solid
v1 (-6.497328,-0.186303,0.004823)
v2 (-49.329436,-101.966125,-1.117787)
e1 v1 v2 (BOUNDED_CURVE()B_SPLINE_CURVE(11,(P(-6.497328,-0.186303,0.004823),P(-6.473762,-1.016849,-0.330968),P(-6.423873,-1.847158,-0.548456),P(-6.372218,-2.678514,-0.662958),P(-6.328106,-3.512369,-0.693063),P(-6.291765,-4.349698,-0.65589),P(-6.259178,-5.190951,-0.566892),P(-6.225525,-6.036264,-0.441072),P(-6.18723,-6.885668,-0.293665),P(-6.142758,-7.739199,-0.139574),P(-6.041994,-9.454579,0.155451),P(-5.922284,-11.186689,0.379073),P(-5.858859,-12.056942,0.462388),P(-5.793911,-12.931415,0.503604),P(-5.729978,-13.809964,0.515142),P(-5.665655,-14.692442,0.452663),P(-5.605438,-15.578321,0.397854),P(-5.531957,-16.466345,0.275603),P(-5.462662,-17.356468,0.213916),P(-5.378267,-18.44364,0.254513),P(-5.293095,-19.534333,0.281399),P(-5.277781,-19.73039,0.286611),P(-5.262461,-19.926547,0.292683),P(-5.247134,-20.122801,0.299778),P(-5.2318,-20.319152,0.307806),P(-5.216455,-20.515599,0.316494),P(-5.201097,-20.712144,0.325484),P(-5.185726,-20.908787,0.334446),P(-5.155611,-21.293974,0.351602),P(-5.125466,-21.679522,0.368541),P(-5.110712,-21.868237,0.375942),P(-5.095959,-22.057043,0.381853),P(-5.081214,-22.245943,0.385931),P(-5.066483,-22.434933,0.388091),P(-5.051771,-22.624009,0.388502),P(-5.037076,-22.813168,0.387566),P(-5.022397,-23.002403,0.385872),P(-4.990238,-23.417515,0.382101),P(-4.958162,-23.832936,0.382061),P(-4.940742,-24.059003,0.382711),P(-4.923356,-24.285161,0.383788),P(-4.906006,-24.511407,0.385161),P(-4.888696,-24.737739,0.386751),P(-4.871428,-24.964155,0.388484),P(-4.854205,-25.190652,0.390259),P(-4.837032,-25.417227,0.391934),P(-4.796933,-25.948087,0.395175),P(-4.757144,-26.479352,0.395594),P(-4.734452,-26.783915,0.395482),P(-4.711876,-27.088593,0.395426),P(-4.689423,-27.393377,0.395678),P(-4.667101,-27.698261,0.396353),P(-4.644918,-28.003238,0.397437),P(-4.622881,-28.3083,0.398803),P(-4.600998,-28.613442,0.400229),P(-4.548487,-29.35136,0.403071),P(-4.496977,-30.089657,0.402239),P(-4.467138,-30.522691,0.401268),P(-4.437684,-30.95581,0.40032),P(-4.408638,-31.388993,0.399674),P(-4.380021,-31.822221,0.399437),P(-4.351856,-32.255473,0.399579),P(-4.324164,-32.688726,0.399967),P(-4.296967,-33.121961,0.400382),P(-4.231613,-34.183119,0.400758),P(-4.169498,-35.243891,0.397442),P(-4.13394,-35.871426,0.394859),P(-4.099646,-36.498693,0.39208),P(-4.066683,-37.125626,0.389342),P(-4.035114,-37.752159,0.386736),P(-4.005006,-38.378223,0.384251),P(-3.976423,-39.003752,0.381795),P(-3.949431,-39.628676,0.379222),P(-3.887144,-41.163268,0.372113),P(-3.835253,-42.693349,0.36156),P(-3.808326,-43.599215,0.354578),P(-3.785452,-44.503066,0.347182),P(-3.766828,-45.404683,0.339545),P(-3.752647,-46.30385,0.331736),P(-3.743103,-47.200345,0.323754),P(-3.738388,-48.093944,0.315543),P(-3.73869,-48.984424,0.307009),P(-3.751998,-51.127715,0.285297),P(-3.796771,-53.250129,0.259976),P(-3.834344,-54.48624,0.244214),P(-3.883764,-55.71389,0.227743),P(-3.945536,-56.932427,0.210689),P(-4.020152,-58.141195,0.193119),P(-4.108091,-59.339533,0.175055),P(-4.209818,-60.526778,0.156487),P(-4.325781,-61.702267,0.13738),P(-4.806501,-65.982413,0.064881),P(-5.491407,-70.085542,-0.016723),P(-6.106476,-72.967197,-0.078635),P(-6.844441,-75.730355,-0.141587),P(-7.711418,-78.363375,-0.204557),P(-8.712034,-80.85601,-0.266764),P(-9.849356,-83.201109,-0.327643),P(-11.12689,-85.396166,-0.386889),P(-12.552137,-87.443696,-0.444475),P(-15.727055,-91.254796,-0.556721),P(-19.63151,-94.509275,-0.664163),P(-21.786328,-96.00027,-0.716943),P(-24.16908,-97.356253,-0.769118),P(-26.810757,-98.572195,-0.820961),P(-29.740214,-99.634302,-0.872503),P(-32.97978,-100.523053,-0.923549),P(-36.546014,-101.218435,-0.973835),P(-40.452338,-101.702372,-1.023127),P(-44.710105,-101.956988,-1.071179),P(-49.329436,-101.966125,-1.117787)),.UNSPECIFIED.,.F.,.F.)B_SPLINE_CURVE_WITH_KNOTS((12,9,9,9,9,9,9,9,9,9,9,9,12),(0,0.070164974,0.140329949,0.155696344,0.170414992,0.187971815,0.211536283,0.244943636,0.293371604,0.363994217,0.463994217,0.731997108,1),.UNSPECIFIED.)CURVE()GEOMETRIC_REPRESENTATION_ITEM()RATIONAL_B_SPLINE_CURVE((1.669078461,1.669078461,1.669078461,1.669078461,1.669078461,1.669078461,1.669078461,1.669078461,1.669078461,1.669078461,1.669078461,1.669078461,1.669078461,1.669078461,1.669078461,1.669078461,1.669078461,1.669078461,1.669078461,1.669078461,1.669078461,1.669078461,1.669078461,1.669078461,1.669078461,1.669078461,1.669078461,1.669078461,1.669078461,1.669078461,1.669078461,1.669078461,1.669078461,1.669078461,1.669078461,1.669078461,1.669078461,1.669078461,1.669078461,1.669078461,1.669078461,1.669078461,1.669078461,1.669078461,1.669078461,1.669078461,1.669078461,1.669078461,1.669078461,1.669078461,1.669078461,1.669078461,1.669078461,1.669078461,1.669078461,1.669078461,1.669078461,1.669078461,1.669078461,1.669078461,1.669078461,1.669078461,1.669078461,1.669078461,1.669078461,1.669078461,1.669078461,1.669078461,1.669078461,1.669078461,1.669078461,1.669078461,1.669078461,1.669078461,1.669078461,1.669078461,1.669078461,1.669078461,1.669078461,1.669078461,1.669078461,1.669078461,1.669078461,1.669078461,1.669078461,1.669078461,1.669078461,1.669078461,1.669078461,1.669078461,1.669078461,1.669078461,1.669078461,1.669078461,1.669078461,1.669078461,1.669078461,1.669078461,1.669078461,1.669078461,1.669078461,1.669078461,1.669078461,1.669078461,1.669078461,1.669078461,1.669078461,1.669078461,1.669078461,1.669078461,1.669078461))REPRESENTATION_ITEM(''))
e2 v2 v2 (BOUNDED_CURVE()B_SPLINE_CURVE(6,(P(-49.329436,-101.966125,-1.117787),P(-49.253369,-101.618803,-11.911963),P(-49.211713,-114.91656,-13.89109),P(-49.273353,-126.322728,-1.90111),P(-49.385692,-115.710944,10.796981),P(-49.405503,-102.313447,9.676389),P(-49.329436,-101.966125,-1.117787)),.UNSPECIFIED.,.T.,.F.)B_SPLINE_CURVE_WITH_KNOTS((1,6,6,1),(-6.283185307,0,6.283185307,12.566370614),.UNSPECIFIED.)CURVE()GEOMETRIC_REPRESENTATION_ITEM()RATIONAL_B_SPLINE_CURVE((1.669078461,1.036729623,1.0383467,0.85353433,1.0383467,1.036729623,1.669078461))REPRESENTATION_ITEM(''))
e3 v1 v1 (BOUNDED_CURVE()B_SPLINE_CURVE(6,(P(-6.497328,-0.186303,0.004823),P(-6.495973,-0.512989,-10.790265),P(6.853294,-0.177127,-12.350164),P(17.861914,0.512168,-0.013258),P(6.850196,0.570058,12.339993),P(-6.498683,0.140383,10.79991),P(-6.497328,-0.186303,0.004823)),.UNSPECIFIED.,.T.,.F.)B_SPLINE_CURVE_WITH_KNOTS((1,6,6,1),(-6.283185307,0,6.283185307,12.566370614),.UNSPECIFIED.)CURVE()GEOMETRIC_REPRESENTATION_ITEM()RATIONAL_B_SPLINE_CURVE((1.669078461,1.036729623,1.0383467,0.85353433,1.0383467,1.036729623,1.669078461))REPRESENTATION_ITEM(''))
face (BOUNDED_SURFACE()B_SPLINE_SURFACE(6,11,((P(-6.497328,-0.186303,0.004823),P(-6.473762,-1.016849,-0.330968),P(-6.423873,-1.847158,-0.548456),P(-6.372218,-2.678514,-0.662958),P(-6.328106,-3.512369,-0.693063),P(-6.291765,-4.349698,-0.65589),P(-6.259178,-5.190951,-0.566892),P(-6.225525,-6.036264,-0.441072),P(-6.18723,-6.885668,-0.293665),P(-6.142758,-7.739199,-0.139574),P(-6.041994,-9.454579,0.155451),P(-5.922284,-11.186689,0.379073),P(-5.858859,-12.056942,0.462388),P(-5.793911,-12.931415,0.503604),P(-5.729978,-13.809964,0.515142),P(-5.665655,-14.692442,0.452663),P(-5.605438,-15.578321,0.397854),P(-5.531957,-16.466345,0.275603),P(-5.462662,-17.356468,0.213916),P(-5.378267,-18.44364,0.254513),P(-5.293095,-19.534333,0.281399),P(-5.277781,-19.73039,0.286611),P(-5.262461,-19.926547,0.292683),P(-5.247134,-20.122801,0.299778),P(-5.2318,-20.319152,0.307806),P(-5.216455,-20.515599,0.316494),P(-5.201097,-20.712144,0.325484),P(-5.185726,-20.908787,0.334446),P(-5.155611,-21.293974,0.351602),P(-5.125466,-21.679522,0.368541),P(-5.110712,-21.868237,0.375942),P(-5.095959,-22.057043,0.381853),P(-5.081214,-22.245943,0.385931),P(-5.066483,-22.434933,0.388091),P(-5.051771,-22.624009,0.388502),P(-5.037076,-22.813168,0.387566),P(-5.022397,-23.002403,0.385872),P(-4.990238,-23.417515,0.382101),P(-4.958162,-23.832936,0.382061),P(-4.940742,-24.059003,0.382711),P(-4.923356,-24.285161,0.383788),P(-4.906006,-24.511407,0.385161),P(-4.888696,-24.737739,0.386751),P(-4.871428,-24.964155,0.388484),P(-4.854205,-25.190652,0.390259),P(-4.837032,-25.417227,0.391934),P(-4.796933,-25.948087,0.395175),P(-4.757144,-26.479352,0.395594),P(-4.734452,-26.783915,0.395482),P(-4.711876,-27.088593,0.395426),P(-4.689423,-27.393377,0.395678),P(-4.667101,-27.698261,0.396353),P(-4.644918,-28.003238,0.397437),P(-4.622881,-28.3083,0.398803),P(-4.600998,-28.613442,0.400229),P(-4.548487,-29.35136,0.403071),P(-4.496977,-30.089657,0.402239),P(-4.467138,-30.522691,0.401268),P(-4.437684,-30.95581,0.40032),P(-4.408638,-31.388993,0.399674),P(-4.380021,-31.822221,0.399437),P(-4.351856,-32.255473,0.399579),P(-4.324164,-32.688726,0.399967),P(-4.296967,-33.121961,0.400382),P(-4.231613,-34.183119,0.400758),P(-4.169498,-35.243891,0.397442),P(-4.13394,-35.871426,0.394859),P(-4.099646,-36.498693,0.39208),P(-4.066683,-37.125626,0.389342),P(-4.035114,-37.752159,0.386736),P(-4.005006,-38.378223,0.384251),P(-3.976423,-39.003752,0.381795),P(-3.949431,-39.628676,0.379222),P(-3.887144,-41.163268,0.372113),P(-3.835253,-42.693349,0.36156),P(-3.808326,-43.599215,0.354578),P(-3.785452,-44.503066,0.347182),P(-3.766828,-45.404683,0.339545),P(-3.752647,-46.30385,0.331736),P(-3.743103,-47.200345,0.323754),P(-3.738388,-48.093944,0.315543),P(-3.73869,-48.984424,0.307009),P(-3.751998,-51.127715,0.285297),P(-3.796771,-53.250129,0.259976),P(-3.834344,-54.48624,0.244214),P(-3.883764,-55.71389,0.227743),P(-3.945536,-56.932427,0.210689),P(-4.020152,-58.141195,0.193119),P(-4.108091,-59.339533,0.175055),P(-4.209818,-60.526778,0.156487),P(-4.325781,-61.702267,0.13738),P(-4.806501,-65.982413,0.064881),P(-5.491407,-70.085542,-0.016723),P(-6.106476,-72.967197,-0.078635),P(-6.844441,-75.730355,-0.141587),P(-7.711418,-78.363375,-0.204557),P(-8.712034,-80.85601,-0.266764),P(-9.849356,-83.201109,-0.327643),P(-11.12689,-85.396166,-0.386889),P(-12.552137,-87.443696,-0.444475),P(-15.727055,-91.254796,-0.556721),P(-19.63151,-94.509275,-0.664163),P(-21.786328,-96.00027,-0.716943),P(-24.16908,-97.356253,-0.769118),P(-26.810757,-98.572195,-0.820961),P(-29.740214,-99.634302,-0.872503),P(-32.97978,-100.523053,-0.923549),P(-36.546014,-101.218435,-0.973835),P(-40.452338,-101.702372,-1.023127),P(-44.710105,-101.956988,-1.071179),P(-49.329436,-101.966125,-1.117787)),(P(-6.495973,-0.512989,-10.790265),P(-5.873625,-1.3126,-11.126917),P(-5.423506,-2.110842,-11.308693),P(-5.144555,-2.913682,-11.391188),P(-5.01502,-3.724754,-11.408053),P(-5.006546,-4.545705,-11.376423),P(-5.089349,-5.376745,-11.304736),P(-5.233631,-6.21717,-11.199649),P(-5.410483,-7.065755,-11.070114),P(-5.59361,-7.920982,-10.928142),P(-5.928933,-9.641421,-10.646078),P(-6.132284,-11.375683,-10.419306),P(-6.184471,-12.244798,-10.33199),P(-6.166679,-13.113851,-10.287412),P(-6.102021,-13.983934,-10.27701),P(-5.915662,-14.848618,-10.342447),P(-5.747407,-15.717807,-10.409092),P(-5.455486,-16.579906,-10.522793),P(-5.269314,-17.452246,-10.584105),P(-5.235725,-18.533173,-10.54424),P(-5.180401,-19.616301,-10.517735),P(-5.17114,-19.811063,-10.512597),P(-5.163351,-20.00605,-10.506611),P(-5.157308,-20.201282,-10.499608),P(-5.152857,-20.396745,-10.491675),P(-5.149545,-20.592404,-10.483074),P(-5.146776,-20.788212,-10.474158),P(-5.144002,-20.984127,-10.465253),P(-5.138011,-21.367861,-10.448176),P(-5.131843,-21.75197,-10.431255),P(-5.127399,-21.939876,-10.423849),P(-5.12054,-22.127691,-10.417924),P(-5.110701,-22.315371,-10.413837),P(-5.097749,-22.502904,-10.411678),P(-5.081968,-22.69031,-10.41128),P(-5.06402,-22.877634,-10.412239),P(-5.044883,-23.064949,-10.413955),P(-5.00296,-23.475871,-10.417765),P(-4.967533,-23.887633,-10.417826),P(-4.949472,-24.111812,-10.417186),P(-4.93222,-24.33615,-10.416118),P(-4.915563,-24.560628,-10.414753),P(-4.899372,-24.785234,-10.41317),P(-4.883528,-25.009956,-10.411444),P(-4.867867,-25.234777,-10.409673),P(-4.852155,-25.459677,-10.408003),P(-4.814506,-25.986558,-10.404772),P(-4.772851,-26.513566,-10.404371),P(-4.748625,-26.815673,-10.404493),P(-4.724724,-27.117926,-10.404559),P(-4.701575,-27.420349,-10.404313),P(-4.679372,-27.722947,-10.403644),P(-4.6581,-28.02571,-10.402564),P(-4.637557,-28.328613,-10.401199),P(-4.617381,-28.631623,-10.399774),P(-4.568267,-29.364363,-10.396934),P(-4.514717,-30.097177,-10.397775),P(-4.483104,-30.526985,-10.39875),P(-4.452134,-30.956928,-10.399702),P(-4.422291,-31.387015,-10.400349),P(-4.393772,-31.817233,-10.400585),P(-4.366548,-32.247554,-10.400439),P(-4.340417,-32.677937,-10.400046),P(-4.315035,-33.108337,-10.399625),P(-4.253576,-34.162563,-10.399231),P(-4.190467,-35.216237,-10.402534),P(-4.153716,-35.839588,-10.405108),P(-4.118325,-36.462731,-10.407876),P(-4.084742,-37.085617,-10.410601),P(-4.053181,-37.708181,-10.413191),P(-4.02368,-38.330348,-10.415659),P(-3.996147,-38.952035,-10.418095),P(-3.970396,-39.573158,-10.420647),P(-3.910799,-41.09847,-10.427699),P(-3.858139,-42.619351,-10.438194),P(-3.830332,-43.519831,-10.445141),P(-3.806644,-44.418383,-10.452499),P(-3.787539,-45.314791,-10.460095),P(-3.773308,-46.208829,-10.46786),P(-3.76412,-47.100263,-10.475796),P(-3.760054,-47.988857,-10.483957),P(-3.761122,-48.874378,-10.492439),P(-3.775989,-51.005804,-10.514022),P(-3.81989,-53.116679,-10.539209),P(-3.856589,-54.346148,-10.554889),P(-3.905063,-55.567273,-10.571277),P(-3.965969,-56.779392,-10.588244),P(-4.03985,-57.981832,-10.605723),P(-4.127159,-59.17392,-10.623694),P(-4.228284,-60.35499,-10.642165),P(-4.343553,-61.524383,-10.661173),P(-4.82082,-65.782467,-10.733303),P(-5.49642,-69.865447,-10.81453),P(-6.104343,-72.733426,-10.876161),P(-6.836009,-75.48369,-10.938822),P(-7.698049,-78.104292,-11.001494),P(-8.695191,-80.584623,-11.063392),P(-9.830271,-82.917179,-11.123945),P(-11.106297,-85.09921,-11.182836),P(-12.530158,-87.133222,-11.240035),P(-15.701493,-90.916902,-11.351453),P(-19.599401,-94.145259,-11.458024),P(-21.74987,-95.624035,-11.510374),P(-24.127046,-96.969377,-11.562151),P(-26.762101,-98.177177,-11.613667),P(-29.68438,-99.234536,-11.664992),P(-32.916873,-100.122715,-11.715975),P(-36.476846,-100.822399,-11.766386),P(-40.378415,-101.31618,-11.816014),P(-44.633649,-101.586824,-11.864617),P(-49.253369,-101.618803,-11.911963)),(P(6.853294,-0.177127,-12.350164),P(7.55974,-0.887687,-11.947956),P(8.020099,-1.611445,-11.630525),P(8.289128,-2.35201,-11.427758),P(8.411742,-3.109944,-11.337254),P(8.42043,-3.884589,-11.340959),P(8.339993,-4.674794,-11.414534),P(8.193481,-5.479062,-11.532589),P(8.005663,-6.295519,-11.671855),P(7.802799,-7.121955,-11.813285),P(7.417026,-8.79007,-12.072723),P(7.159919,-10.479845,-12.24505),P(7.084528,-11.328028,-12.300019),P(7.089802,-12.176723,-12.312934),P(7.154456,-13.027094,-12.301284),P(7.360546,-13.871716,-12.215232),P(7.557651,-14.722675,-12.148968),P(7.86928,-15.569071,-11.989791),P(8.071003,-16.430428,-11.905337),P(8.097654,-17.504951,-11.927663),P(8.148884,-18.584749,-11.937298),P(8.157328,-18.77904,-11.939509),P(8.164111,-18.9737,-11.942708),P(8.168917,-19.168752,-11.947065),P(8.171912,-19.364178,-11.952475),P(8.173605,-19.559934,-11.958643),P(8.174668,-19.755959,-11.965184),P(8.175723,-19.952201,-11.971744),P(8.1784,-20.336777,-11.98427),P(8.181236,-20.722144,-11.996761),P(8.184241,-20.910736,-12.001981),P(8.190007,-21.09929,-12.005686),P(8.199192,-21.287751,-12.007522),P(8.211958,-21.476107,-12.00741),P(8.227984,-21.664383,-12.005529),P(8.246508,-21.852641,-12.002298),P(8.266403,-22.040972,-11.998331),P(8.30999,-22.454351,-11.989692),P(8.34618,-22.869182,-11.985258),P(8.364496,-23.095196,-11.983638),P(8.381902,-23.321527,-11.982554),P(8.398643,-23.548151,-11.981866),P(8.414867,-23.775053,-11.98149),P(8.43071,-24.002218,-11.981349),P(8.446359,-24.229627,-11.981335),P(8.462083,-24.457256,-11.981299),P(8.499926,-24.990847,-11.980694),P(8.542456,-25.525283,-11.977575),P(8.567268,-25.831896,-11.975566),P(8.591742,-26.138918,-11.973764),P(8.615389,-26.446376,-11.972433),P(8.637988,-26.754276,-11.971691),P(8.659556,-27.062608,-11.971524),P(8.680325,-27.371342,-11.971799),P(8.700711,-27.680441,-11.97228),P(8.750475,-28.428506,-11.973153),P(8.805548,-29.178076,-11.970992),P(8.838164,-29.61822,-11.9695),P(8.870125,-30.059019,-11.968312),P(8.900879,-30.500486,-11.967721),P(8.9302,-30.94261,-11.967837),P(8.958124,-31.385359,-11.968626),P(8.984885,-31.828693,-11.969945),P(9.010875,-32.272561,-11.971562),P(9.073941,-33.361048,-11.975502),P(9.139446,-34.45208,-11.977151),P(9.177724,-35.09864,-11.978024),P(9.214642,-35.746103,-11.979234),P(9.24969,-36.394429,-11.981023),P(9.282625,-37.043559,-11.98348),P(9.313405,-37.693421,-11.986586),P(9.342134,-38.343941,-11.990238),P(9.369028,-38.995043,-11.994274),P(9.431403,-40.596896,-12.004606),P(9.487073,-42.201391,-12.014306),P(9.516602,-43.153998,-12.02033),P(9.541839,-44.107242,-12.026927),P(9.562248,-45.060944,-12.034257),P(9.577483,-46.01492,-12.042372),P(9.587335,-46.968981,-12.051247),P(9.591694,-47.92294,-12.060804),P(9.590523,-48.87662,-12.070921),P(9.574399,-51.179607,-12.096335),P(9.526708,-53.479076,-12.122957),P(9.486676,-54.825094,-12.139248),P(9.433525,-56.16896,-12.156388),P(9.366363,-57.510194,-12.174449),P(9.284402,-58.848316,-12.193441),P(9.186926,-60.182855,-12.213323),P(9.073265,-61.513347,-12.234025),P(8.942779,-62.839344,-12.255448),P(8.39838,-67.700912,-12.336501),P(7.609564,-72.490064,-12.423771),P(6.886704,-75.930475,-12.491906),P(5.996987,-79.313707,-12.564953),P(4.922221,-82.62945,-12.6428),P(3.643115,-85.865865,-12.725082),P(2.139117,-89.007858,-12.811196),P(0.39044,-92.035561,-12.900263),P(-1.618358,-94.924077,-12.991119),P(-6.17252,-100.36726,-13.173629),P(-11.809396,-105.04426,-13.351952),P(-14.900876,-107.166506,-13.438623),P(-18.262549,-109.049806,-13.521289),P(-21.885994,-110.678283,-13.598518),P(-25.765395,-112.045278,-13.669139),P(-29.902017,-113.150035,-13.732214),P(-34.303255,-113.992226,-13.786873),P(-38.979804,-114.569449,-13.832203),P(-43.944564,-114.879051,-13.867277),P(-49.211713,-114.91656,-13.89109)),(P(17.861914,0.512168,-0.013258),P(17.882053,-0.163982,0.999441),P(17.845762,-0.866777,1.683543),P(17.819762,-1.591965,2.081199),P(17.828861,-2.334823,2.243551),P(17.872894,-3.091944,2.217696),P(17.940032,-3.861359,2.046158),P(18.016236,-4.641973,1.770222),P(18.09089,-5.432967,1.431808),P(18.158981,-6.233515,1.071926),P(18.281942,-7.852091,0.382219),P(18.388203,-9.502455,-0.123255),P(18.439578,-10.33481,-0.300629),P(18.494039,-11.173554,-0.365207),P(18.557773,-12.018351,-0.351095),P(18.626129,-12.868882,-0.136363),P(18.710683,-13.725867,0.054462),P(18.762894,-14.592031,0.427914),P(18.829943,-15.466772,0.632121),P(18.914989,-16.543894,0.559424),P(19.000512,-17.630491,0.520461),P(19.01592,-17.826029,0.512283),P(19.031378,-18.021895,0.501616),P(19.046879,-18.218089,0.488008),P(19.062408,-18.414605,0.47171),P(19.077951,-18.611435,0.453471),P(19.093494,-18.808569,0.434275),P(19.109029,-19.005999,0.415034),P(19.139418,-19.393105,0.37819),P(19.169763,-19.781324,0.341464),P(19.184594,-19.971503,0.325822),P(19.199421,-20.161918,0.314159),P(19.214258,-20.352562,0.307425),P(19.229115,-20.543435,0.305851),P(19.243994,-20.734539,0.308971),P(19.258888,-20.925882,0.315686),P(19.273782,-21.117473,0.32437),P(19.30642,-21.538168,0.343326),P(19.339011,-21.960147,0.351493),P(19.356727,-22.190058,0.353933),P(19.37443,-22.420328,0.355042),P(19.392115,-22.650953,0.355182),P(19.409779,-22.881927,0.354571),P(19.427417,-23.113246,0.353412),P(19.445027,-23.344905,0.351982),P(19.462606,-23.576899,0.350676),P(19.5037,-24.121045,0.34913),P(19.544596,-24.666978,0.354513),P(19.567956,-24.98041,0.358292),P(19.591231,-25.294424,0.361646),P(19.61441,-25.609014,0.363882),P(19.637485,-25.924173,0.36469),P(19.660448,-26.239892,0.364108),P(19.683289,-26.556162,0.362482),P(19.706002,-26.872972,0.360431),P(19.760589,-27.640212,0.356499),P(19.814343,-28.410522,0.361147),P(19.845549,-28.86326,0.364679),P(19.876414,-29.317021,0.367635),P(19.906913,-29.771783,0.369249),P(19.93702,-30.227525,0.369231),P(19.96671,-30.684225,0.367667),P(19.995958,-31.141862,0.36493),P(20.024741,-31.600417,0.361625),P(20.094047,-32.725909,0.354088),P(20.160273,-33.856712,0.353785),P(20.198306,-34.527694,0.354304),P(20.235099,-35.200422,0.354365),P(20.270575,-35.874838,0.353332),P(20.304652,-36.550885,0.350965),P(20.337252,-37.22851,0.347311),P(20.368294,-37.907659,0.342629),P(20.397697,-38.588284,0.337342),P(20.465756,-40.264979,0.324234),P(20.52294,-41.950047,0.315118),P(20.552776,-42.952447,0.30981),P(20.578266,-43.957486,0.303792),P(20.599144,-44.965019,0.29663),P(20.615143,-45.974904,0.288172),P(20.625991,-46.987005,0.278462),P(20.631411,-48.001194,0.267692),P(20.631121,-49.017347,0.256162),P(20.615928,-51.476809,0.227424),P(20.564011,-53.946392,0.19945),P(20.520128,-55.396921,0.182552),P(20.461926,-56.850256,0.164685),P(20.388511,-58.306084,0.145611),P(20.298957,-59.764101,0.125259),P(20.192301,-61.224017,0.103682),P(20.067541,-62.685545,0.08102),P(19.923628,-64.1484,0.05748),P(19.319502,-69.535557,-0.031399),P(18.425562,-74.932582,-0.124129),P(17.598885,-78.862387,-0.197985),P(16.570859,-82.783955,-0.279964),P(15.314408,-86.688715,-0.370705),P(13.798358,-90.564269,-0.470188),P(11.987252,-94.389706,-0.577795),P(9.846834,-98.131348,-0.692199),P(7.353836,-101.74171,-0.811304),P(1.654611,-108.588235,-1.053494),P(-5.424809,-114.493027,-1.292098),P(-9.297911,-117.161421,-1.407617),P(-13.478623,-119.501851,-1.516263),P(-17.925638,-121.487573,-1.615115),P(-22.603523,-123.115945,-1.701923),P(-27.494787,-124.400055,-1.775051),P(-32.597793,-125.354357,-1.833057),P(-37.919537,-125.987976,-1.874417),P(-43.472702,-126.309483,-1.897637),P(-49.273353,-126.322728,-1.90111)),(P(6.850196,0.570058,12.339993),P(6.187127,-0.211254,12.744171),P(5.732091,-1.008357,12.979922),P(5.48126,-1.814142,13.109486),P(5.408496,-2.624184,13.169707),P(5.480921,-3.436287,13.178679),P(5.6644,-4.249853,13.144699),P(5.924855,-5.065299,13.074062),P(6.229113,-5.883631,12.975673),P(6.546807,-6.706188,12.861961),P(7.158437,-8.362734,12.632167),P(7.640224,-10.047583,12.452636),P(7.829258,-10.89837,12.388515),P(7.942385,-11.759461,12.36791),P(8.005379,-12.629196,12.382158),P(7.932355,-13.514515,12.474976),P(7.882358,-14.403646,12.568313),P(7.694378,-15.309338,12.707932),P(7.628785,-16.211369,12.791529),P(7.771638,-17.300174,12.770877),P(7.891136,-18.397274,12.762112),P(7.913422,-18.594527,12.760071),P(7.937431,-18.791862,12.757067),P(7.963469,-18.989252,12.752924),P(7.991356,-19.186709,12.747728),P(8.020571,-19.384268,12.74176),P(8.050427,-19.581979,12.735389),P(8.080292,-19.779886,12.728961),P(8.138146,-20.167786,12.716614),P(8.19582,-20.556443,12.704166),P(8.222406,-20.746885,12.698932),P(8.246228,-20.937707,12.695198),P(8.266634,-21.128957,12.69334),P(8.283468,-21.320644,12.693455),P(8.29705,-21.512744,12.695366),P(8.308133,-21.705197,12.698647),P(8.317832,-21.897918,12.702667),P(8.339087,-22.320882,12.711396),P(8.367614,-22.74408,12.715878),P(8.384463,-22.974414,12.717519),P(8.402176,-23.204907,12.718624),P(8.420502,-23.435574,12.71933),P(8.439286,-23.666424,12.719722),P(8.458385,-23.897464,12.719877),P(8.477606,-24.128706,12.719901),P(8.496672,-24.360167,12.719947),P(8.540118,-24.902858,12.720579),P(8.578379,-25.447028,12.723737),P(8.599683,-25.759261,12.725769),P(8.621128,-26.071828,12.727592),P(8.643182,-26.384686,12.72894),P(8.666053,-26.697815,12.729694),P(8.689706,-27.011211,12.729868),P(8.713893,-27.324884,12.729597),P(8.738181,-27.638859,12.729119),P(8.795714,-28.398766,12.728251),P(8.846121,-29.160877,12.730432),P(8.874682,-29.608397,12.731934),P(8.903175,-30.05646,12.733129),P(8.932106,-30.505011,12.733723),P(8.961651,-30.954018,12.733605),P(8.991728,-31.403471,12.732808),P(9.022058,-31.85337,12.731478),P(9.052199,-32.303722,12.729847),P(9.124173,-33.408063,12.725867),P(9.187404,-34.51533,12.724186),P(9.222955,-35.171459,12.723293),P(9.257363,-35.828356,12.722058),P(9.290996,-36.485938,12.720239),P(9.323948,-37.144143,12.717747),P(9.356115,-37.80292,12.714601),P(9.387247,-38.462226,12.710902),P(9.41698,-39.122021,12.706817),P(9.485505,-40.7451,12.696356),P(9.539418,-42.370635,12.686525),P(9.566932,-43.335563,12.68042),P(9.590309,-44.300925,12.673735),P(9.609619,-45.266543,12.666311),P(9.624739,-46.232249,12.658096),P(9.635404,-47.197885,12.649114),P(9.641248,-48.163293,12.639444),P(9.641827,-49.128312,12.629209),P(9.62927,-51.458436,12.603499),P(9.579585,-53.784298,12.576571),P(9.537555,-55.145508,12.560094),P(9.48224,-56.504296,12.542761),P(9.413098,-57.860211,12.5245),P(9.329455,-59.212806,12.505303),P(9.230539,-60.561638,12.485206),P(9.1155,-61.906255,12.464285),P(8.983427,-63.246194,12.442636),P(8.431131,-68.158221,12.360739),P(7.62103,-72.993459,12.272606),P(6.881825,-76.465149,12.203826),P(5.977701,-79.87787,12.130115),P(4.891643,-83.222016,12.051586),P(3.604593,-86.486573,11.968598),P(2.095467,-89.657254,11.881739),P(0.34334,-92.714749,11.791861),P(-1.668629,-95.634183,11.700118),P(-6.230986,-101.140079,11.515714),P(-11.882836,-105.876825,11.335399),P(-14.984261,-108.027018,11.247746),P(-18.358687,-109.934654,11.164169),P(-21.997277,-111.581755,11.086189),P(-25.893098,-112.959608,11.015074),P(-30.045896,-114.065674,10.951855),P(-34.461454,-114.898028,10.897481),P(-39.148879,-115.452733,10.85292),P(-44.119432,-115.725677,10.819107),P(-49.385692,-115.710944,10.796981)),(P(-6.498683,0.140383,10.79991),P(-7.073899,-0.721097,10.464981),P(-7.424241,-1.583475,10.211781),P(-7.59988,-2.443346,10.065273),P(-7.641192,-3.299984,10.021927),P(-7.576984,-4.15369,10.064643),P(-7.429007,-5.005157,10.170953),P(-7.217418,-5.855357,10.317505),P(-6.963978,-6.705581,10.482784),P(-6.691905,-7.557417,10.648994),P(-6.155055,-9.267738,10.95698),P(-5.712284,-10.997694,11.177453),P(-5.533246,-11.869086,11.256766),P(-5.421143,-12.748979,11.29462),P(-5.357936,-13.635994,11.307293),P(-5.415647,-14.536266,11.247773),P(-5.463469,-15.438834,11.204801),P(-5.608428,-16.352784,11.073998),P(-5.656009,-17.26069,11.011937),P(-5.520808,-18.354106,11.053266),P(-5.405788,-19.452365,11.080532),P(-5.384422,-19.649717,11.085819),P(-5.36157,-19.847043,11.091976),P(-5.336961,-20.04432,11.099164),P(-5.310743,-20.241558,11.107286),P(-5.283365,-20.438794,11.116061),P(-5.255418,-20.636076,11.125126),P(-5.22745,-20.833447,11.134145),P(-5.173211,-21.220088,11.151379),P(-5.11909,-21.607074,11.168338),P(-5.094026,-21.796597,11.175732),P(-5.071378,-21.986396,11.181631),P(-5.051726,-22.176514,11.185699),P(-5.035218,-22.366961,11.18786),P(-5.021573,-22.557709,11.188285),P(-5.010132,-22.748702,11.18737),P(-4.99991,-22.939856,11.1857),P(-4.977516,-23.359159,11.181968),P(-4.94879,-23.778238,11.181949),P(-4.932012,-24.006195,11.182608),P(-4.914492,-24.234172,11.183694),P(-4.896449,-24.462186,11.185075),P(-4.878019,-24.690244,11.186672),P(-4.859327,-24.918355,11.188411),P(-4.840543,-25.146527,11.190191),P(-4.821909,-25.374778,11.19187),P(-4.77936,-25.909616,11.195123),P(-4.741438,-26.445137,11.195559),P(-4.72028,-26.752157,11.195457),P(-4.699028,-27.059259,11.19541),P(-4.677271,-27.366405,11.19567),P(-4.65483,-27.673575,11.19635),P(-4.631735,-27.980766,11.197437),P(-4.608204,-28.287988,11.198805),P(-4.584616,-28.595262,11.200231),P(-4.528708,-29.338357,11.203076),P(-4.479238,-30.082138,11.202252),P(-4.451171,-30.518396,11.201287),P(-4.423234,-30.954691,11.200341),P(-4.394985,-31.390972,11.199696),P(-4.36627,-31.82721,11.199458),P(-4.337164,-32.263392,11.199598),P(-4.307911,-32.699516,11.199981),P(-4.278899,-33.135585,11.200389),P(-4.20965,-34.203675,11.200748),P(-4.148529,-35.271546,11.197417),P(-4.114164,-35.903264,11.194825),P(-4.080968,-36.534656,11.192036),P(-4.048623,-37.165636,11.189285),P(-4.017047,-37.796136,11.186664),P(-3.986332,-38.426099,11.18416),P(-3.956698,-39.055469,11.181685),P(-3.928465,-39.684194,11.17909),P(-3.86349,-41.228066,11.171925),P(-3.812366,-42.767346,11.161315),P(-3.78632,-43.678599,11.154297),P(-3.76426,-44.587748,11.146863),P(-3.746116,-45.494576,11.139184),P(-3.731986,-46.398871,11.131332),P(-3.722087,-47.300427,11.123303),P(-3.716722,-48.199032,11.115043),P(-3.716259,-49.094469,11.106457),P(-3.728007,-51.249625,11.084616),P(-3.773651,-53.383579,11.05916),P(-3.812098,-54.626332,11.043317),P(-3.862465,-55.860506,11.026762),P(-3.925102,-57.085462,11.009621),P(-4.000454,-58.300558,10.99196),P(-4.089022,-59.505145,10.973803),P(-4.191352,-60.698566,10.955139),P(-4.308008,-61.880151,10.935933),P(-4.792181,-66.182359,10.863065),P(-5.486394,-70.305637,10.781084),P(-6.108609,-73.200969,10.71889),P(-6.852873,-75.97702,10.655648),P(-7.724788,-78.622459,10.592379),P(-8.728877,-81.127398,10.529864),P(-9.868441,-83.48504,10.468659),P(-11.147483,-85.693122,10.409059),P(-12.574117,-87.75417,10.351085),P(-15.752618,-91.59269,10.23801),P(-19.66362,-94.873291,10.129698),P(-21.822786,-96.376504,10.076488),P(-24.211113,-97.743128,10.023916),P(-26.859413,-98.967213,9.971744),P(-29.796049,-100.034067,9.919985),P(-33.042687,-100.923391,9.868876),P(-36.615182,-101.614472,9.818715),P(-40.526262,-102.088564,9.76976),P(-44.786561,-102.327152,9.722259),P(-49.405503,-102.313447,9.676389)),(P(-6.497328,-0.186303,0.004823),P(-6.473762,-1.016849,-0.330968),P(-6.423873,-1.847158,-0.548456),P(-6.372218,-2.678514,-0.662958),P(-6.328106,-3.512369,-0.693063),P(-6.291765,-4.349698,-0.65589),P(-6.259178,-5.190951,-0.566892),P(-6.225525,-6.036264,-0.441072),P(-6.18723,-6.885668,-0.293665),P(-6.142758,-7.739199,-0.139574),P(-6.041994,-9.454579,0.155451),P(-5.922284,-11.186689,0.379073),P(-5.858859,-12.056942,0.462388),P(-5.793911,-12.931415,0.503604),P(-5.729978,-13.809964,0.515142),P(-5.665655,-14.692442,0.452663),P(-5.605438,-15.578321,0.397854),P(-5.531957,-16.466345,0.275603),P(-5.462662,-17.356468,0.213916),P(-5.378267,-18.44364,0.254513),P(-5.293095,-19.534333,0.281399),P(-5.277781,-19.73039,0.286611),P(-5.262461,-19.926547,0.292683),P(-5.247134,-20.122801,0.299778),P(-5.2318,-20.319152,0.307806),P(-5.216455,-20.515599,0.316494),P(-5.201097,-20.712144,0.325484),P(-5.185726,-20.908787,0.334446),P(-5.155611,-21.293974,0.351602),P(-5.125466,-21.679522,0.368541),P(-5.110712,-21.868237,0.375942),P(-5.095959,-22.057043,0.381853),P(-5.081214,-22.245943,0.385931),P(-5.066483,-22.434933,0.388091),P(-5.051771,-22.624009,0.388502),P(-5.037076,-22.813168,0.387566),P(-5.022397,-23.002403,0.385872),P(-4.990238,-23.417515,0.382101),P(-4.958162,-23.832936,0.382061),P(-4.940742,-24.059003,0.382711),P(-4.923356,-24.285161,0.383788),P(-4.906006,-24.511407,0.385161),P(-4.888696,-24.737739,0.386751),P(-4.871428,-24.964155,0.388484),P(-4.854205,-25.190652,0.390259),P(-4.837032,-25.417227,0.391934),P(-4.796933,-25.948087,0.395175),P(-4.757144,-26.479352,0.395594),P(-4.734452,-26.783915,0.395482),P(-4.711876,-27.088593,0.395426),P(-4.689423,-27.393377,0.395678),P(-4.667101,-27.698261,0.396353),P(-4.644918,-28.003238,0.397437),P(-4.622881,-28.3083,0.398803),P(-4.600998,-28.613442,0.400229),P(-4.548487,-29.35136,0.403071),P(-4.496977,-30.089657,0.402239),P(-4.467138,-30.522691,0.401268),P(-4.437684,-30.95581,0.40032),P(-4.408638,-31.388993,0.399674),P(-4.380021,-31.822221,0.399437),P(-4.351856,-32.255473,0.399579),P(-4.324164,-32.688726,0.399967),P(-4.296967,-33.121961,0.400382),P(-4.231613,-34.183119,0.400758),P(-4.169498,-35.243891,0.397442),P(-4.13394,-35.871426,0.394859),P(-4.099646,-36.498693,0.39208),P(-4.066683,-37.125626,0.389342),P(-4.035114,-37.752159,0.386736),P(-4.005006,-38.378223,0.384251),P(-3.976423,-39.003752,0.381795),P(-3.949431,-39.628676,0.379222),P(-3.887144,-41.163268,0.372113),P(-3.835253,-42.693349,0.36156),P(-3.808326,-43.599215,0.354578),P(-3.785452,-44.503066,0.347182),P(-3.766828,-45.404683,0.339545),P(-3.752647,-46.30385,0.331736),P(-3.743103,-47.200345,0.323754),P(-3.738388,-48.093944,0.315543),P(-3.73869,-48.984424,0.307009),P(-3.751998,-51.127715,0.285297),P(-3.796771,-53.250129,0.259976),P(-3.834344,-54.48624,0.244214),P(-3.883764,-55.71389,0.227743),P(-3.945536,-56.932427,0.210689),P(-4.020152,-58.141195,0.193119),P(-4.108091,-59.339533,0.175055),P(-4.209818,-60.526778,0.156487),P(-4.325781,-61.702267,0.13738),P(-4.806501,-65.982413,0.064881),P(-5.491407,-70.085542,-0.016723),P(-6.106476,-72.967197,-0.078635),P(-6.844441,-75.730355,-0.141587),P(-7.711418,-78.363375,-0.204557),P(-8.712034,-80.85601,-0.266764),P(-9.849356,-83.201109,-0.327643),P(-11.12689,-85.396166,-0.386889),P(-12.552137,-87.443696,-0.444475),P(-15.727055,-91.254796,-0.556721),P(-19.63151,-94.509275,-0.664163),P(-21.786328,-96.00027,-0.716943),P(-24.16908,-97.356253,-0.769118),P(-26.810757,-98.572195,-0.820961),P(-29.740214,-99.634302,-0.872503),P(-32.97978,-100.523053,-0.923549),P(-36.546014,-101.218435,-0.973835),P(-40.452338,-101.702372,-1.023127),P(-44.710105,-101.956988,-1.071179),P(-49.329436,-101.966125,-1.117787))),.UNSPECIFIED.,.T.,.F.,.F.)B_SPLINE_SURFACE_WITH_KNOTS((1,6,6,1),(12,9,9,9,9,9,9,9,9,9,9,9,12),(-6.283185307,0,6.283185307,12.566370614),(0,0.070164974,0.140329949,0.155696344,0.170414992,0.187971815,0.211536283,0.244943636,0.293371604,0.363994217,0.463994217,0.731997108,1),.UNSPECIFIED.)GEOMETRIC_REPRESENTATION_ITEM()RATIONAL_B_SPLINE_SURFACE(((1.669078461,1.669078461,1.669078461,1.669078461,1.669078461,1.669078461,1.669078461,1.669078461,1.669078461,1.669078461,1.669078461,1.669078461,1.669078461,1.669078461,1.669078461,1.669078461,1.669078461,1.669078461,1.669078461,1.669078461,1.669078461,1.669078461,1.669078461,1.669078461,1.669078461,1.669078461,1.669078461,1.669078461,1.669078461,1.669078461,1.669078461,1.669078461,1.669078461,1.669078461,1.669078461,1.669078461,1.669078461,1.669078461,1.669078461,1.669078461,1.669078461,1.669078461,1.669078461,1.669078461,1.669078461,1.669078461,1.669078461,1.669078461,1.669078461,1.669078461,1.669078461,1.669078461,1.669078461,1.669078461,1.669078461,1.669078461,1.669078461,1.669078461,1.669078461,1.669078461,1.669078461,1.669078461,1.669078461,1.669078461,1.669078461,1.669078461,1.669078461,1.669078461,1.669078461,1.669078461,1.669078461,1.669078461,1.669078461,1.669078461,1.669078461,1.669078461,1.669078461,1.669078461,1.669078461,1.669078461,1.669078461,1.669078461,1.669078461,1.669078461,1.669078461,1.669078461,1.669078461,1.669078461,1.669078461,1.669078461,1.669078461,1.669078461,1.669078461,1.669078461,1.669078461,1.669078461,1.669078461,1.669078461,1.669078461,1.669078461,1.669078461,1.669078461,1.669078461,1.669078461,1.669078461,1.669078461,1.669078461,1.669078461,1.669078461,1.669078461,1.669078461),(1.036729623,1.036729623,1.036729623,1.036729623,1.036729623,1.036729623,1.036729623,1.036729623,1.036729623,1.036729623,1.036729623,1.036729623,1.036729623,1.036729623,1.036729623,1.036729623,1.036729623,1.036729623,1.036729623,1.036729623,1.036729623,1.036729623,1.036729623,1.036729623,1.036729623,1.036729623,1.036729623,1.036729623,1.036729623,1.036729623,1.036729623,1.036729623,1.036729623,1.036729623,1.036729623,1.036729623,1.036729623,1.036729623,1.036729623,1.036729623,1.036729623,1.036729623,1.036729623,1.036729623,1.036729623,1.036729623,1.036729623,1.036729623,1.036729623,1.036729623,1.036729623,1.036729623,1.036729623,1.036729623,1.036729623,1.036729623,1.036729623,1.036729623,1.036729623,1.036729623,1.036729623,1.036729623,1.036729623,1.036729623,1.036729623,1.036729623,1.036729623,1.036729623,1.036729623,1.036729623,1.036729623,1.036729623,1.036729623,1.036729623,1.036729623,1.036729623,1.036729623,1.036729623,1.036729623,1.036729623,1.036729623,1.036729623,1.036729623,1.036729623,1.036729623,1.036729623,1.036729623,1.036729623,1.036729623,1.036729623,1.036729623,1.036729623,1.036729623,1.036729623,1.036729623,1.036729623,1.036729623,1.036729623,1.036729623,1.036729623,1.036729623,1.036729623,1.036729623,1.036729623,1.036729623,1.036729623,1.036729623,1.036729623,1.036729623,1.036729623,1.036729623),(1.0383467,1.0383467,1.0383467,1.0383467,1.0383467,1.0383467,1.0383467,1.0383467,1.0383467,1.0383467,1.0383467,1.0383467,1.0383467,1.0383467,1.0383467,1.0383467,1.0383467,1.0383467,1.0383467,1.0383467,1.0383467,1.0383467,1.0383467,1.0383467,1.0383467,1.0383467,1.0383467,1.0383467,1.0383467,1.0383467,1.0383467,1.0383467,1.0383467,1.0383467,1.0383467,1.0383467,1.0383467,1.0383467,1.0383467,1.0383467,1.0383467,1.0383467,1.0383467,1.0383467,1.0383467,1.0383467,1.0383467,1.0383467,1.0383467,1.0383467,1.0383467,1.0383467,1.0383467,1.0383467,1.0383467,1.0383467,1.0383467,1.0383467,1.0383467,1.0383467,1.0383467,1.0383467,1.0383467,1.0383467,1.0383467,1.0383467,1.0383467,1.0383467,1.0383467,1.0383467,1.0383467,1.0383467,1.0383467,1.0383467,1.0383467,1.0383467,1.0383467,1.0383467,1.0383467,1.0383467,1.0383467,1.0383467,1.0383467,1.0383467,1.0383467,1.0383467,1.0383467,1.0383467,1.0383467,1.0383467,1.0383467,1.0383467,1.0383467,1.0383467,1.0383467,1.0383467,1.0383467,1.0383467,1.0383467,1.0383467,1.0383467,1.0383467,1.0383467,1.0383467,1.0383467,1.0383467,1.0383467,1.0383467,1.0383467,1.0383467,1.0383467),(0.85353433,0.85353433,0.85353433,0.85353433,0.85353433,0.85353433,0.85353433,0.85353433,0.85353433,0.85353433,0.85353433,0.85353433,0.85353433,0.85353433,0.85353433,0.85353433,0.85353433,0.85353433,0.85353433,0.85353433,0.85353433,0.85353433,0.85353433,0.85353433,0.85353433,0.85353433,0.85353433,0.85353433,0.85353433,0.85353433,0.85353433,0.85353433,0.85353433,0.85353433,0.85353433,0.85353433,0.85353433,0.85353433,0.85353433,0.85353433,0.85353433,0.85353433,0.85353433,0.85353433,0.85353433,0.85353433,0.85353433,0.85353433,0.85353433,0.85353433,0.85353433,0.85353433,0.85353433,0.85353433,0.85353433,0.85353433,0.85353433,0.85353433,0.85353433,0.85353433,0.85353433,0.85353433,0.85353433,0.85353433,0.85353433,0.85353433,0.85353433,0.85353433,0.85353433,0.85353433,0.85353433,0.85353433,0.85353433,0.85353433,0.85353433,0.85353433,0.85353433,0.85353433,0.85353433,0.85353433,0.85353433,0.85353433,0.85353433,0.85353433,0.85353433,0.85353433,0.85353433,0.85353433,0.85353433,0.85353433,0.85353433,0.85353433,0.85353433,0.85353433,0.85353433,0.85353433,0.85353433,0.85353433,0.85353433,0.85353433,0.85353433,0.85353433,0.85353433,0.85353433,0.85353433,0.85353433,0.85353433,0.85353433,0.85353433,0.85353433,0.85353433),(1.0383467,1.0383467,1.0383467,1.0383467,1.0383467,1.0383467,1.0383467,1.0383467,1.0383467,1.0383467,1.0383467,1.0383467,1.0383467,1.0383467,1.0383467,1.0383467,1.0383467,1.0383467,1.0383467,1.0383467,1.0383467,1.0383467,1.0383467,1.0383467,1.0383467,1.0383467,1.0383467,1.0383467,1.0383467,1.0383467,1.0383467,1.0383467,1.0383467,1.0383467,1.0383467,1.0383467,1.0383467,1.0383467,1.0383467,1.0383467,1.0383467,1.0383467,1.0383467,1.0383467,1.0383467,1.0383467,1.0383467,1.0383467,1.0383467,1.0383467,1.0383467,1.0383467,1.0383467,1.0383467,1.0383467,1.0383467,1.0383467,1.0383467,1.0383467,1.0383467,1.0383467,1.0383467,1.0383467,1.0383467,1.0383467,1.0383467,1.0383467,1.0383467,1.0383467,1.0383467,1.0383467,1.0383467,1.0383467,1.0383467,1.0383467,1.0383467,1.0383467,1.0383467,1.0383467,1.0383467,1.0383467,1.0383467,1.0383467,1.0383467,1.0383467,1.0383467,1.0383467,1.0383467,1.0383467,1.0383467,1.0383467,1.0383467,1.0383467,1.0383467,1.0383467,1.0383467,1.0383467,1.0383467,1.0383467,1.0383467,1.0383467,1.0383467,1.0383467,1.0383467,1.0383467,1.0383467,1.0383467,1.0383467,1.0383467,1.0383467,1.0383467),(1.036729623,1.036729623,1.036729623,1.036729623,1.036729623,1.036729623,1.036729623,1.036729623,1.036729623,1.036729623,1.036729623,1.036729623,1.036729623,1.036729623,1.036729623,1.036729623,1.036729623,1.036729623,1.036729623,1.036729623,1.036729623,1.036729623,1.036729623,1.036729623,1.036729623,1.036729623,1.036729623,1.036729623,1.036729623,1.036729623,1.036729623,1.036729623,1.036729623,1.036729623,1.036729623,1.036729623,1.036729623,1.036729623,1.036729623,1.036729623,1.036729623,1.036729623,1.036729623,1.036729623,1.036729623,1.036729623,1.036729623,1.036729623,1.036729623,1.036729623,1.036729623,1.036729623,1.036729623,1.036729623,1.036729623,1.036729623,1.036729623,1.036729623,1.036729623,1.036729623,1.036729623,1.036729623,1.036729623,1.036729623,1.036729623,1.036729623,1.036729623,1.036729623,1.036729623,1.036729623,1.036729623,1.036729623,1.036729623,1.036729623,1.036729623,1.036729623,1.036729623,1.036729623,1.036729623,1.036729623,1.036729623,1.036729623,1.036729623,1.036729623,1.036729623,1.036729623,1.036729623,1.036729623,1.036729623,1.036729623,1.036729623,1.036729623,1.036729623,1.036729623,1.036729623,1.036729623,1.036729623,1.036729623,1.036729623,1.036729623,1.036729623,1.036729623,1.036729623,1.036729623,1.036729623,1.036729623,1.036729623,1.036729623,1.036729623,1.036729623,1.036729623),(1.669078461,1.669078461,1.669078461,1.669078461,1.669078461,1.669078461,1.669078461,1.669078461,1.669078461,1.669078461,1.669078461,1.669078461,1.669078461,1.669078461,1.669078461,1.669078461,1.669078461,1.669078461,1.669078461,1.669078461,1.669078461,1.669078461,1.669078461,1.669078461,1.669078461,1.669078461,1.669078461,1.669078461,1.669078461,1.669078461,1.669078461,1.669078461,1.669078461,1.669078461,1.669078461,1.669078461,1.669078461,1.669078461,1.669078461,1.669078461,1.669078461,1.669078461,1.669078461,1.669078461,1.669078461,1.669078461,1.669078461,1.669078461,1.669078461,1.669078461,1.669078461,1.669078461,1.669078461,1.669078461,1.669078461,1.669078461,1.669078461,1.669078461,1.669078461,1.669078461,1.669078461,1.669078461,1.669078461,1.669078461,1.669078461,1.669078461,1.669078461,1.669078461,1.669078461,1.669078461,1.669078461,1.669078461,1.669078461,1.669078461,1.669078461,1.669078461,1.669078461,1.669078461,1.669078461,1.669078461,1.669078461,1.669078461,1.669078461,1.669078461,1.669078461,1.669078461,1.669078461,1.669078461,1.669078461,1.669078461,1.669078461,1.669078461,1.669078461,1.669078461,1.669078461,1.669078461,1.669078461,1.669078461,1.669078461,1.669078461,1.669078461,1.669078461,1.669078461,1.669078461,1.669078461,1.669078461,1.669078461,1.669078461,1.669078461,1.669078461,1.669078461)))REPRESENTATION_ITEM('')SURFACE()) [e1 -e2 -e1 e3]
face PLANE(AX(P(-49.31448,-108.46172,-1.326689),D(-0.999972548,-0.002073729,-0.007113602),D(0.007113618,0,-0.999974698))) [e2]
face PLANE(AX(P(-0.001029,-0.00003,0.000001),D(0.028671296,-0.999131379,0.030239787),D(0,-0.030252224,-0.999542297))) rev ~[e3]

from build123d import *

# Parameters (mm, degrees)
SZKIC1_R = 6.5


with BuildPart() as part:
    # Wyciągnięcie po ścieżce1: sweep along a curve in space
    with BuildLine() as wyci_gni_cie_po_cie_ce1_path:
        add(Edge.make_bspline(
            [(0, 0, 0), (1.183730869, -41.250408072, 1.248488002), (18.195569025, -108.322747625, -0.846469437), (-49.314477253, -108.462748984, -1.326722272)],
            knots=[0, 0, 0, 0, 1, 1, 1, 1], degree=3))
    # Szkic1 → Wyciągnięcie po ścieżce1 (sweep)
    with BuildSketch(Plane(origin=(0, 0, 0), x_dir=(-0.999588886, -0.028661969, 0.000741937), z_dir=(0.028671296, -0.999131379, 0.030239787))):
        Circle(SZKIC1_R)
    sweep(path=wyci_gni_cie_po_cie_ce1_path.line)


solid = part.part
